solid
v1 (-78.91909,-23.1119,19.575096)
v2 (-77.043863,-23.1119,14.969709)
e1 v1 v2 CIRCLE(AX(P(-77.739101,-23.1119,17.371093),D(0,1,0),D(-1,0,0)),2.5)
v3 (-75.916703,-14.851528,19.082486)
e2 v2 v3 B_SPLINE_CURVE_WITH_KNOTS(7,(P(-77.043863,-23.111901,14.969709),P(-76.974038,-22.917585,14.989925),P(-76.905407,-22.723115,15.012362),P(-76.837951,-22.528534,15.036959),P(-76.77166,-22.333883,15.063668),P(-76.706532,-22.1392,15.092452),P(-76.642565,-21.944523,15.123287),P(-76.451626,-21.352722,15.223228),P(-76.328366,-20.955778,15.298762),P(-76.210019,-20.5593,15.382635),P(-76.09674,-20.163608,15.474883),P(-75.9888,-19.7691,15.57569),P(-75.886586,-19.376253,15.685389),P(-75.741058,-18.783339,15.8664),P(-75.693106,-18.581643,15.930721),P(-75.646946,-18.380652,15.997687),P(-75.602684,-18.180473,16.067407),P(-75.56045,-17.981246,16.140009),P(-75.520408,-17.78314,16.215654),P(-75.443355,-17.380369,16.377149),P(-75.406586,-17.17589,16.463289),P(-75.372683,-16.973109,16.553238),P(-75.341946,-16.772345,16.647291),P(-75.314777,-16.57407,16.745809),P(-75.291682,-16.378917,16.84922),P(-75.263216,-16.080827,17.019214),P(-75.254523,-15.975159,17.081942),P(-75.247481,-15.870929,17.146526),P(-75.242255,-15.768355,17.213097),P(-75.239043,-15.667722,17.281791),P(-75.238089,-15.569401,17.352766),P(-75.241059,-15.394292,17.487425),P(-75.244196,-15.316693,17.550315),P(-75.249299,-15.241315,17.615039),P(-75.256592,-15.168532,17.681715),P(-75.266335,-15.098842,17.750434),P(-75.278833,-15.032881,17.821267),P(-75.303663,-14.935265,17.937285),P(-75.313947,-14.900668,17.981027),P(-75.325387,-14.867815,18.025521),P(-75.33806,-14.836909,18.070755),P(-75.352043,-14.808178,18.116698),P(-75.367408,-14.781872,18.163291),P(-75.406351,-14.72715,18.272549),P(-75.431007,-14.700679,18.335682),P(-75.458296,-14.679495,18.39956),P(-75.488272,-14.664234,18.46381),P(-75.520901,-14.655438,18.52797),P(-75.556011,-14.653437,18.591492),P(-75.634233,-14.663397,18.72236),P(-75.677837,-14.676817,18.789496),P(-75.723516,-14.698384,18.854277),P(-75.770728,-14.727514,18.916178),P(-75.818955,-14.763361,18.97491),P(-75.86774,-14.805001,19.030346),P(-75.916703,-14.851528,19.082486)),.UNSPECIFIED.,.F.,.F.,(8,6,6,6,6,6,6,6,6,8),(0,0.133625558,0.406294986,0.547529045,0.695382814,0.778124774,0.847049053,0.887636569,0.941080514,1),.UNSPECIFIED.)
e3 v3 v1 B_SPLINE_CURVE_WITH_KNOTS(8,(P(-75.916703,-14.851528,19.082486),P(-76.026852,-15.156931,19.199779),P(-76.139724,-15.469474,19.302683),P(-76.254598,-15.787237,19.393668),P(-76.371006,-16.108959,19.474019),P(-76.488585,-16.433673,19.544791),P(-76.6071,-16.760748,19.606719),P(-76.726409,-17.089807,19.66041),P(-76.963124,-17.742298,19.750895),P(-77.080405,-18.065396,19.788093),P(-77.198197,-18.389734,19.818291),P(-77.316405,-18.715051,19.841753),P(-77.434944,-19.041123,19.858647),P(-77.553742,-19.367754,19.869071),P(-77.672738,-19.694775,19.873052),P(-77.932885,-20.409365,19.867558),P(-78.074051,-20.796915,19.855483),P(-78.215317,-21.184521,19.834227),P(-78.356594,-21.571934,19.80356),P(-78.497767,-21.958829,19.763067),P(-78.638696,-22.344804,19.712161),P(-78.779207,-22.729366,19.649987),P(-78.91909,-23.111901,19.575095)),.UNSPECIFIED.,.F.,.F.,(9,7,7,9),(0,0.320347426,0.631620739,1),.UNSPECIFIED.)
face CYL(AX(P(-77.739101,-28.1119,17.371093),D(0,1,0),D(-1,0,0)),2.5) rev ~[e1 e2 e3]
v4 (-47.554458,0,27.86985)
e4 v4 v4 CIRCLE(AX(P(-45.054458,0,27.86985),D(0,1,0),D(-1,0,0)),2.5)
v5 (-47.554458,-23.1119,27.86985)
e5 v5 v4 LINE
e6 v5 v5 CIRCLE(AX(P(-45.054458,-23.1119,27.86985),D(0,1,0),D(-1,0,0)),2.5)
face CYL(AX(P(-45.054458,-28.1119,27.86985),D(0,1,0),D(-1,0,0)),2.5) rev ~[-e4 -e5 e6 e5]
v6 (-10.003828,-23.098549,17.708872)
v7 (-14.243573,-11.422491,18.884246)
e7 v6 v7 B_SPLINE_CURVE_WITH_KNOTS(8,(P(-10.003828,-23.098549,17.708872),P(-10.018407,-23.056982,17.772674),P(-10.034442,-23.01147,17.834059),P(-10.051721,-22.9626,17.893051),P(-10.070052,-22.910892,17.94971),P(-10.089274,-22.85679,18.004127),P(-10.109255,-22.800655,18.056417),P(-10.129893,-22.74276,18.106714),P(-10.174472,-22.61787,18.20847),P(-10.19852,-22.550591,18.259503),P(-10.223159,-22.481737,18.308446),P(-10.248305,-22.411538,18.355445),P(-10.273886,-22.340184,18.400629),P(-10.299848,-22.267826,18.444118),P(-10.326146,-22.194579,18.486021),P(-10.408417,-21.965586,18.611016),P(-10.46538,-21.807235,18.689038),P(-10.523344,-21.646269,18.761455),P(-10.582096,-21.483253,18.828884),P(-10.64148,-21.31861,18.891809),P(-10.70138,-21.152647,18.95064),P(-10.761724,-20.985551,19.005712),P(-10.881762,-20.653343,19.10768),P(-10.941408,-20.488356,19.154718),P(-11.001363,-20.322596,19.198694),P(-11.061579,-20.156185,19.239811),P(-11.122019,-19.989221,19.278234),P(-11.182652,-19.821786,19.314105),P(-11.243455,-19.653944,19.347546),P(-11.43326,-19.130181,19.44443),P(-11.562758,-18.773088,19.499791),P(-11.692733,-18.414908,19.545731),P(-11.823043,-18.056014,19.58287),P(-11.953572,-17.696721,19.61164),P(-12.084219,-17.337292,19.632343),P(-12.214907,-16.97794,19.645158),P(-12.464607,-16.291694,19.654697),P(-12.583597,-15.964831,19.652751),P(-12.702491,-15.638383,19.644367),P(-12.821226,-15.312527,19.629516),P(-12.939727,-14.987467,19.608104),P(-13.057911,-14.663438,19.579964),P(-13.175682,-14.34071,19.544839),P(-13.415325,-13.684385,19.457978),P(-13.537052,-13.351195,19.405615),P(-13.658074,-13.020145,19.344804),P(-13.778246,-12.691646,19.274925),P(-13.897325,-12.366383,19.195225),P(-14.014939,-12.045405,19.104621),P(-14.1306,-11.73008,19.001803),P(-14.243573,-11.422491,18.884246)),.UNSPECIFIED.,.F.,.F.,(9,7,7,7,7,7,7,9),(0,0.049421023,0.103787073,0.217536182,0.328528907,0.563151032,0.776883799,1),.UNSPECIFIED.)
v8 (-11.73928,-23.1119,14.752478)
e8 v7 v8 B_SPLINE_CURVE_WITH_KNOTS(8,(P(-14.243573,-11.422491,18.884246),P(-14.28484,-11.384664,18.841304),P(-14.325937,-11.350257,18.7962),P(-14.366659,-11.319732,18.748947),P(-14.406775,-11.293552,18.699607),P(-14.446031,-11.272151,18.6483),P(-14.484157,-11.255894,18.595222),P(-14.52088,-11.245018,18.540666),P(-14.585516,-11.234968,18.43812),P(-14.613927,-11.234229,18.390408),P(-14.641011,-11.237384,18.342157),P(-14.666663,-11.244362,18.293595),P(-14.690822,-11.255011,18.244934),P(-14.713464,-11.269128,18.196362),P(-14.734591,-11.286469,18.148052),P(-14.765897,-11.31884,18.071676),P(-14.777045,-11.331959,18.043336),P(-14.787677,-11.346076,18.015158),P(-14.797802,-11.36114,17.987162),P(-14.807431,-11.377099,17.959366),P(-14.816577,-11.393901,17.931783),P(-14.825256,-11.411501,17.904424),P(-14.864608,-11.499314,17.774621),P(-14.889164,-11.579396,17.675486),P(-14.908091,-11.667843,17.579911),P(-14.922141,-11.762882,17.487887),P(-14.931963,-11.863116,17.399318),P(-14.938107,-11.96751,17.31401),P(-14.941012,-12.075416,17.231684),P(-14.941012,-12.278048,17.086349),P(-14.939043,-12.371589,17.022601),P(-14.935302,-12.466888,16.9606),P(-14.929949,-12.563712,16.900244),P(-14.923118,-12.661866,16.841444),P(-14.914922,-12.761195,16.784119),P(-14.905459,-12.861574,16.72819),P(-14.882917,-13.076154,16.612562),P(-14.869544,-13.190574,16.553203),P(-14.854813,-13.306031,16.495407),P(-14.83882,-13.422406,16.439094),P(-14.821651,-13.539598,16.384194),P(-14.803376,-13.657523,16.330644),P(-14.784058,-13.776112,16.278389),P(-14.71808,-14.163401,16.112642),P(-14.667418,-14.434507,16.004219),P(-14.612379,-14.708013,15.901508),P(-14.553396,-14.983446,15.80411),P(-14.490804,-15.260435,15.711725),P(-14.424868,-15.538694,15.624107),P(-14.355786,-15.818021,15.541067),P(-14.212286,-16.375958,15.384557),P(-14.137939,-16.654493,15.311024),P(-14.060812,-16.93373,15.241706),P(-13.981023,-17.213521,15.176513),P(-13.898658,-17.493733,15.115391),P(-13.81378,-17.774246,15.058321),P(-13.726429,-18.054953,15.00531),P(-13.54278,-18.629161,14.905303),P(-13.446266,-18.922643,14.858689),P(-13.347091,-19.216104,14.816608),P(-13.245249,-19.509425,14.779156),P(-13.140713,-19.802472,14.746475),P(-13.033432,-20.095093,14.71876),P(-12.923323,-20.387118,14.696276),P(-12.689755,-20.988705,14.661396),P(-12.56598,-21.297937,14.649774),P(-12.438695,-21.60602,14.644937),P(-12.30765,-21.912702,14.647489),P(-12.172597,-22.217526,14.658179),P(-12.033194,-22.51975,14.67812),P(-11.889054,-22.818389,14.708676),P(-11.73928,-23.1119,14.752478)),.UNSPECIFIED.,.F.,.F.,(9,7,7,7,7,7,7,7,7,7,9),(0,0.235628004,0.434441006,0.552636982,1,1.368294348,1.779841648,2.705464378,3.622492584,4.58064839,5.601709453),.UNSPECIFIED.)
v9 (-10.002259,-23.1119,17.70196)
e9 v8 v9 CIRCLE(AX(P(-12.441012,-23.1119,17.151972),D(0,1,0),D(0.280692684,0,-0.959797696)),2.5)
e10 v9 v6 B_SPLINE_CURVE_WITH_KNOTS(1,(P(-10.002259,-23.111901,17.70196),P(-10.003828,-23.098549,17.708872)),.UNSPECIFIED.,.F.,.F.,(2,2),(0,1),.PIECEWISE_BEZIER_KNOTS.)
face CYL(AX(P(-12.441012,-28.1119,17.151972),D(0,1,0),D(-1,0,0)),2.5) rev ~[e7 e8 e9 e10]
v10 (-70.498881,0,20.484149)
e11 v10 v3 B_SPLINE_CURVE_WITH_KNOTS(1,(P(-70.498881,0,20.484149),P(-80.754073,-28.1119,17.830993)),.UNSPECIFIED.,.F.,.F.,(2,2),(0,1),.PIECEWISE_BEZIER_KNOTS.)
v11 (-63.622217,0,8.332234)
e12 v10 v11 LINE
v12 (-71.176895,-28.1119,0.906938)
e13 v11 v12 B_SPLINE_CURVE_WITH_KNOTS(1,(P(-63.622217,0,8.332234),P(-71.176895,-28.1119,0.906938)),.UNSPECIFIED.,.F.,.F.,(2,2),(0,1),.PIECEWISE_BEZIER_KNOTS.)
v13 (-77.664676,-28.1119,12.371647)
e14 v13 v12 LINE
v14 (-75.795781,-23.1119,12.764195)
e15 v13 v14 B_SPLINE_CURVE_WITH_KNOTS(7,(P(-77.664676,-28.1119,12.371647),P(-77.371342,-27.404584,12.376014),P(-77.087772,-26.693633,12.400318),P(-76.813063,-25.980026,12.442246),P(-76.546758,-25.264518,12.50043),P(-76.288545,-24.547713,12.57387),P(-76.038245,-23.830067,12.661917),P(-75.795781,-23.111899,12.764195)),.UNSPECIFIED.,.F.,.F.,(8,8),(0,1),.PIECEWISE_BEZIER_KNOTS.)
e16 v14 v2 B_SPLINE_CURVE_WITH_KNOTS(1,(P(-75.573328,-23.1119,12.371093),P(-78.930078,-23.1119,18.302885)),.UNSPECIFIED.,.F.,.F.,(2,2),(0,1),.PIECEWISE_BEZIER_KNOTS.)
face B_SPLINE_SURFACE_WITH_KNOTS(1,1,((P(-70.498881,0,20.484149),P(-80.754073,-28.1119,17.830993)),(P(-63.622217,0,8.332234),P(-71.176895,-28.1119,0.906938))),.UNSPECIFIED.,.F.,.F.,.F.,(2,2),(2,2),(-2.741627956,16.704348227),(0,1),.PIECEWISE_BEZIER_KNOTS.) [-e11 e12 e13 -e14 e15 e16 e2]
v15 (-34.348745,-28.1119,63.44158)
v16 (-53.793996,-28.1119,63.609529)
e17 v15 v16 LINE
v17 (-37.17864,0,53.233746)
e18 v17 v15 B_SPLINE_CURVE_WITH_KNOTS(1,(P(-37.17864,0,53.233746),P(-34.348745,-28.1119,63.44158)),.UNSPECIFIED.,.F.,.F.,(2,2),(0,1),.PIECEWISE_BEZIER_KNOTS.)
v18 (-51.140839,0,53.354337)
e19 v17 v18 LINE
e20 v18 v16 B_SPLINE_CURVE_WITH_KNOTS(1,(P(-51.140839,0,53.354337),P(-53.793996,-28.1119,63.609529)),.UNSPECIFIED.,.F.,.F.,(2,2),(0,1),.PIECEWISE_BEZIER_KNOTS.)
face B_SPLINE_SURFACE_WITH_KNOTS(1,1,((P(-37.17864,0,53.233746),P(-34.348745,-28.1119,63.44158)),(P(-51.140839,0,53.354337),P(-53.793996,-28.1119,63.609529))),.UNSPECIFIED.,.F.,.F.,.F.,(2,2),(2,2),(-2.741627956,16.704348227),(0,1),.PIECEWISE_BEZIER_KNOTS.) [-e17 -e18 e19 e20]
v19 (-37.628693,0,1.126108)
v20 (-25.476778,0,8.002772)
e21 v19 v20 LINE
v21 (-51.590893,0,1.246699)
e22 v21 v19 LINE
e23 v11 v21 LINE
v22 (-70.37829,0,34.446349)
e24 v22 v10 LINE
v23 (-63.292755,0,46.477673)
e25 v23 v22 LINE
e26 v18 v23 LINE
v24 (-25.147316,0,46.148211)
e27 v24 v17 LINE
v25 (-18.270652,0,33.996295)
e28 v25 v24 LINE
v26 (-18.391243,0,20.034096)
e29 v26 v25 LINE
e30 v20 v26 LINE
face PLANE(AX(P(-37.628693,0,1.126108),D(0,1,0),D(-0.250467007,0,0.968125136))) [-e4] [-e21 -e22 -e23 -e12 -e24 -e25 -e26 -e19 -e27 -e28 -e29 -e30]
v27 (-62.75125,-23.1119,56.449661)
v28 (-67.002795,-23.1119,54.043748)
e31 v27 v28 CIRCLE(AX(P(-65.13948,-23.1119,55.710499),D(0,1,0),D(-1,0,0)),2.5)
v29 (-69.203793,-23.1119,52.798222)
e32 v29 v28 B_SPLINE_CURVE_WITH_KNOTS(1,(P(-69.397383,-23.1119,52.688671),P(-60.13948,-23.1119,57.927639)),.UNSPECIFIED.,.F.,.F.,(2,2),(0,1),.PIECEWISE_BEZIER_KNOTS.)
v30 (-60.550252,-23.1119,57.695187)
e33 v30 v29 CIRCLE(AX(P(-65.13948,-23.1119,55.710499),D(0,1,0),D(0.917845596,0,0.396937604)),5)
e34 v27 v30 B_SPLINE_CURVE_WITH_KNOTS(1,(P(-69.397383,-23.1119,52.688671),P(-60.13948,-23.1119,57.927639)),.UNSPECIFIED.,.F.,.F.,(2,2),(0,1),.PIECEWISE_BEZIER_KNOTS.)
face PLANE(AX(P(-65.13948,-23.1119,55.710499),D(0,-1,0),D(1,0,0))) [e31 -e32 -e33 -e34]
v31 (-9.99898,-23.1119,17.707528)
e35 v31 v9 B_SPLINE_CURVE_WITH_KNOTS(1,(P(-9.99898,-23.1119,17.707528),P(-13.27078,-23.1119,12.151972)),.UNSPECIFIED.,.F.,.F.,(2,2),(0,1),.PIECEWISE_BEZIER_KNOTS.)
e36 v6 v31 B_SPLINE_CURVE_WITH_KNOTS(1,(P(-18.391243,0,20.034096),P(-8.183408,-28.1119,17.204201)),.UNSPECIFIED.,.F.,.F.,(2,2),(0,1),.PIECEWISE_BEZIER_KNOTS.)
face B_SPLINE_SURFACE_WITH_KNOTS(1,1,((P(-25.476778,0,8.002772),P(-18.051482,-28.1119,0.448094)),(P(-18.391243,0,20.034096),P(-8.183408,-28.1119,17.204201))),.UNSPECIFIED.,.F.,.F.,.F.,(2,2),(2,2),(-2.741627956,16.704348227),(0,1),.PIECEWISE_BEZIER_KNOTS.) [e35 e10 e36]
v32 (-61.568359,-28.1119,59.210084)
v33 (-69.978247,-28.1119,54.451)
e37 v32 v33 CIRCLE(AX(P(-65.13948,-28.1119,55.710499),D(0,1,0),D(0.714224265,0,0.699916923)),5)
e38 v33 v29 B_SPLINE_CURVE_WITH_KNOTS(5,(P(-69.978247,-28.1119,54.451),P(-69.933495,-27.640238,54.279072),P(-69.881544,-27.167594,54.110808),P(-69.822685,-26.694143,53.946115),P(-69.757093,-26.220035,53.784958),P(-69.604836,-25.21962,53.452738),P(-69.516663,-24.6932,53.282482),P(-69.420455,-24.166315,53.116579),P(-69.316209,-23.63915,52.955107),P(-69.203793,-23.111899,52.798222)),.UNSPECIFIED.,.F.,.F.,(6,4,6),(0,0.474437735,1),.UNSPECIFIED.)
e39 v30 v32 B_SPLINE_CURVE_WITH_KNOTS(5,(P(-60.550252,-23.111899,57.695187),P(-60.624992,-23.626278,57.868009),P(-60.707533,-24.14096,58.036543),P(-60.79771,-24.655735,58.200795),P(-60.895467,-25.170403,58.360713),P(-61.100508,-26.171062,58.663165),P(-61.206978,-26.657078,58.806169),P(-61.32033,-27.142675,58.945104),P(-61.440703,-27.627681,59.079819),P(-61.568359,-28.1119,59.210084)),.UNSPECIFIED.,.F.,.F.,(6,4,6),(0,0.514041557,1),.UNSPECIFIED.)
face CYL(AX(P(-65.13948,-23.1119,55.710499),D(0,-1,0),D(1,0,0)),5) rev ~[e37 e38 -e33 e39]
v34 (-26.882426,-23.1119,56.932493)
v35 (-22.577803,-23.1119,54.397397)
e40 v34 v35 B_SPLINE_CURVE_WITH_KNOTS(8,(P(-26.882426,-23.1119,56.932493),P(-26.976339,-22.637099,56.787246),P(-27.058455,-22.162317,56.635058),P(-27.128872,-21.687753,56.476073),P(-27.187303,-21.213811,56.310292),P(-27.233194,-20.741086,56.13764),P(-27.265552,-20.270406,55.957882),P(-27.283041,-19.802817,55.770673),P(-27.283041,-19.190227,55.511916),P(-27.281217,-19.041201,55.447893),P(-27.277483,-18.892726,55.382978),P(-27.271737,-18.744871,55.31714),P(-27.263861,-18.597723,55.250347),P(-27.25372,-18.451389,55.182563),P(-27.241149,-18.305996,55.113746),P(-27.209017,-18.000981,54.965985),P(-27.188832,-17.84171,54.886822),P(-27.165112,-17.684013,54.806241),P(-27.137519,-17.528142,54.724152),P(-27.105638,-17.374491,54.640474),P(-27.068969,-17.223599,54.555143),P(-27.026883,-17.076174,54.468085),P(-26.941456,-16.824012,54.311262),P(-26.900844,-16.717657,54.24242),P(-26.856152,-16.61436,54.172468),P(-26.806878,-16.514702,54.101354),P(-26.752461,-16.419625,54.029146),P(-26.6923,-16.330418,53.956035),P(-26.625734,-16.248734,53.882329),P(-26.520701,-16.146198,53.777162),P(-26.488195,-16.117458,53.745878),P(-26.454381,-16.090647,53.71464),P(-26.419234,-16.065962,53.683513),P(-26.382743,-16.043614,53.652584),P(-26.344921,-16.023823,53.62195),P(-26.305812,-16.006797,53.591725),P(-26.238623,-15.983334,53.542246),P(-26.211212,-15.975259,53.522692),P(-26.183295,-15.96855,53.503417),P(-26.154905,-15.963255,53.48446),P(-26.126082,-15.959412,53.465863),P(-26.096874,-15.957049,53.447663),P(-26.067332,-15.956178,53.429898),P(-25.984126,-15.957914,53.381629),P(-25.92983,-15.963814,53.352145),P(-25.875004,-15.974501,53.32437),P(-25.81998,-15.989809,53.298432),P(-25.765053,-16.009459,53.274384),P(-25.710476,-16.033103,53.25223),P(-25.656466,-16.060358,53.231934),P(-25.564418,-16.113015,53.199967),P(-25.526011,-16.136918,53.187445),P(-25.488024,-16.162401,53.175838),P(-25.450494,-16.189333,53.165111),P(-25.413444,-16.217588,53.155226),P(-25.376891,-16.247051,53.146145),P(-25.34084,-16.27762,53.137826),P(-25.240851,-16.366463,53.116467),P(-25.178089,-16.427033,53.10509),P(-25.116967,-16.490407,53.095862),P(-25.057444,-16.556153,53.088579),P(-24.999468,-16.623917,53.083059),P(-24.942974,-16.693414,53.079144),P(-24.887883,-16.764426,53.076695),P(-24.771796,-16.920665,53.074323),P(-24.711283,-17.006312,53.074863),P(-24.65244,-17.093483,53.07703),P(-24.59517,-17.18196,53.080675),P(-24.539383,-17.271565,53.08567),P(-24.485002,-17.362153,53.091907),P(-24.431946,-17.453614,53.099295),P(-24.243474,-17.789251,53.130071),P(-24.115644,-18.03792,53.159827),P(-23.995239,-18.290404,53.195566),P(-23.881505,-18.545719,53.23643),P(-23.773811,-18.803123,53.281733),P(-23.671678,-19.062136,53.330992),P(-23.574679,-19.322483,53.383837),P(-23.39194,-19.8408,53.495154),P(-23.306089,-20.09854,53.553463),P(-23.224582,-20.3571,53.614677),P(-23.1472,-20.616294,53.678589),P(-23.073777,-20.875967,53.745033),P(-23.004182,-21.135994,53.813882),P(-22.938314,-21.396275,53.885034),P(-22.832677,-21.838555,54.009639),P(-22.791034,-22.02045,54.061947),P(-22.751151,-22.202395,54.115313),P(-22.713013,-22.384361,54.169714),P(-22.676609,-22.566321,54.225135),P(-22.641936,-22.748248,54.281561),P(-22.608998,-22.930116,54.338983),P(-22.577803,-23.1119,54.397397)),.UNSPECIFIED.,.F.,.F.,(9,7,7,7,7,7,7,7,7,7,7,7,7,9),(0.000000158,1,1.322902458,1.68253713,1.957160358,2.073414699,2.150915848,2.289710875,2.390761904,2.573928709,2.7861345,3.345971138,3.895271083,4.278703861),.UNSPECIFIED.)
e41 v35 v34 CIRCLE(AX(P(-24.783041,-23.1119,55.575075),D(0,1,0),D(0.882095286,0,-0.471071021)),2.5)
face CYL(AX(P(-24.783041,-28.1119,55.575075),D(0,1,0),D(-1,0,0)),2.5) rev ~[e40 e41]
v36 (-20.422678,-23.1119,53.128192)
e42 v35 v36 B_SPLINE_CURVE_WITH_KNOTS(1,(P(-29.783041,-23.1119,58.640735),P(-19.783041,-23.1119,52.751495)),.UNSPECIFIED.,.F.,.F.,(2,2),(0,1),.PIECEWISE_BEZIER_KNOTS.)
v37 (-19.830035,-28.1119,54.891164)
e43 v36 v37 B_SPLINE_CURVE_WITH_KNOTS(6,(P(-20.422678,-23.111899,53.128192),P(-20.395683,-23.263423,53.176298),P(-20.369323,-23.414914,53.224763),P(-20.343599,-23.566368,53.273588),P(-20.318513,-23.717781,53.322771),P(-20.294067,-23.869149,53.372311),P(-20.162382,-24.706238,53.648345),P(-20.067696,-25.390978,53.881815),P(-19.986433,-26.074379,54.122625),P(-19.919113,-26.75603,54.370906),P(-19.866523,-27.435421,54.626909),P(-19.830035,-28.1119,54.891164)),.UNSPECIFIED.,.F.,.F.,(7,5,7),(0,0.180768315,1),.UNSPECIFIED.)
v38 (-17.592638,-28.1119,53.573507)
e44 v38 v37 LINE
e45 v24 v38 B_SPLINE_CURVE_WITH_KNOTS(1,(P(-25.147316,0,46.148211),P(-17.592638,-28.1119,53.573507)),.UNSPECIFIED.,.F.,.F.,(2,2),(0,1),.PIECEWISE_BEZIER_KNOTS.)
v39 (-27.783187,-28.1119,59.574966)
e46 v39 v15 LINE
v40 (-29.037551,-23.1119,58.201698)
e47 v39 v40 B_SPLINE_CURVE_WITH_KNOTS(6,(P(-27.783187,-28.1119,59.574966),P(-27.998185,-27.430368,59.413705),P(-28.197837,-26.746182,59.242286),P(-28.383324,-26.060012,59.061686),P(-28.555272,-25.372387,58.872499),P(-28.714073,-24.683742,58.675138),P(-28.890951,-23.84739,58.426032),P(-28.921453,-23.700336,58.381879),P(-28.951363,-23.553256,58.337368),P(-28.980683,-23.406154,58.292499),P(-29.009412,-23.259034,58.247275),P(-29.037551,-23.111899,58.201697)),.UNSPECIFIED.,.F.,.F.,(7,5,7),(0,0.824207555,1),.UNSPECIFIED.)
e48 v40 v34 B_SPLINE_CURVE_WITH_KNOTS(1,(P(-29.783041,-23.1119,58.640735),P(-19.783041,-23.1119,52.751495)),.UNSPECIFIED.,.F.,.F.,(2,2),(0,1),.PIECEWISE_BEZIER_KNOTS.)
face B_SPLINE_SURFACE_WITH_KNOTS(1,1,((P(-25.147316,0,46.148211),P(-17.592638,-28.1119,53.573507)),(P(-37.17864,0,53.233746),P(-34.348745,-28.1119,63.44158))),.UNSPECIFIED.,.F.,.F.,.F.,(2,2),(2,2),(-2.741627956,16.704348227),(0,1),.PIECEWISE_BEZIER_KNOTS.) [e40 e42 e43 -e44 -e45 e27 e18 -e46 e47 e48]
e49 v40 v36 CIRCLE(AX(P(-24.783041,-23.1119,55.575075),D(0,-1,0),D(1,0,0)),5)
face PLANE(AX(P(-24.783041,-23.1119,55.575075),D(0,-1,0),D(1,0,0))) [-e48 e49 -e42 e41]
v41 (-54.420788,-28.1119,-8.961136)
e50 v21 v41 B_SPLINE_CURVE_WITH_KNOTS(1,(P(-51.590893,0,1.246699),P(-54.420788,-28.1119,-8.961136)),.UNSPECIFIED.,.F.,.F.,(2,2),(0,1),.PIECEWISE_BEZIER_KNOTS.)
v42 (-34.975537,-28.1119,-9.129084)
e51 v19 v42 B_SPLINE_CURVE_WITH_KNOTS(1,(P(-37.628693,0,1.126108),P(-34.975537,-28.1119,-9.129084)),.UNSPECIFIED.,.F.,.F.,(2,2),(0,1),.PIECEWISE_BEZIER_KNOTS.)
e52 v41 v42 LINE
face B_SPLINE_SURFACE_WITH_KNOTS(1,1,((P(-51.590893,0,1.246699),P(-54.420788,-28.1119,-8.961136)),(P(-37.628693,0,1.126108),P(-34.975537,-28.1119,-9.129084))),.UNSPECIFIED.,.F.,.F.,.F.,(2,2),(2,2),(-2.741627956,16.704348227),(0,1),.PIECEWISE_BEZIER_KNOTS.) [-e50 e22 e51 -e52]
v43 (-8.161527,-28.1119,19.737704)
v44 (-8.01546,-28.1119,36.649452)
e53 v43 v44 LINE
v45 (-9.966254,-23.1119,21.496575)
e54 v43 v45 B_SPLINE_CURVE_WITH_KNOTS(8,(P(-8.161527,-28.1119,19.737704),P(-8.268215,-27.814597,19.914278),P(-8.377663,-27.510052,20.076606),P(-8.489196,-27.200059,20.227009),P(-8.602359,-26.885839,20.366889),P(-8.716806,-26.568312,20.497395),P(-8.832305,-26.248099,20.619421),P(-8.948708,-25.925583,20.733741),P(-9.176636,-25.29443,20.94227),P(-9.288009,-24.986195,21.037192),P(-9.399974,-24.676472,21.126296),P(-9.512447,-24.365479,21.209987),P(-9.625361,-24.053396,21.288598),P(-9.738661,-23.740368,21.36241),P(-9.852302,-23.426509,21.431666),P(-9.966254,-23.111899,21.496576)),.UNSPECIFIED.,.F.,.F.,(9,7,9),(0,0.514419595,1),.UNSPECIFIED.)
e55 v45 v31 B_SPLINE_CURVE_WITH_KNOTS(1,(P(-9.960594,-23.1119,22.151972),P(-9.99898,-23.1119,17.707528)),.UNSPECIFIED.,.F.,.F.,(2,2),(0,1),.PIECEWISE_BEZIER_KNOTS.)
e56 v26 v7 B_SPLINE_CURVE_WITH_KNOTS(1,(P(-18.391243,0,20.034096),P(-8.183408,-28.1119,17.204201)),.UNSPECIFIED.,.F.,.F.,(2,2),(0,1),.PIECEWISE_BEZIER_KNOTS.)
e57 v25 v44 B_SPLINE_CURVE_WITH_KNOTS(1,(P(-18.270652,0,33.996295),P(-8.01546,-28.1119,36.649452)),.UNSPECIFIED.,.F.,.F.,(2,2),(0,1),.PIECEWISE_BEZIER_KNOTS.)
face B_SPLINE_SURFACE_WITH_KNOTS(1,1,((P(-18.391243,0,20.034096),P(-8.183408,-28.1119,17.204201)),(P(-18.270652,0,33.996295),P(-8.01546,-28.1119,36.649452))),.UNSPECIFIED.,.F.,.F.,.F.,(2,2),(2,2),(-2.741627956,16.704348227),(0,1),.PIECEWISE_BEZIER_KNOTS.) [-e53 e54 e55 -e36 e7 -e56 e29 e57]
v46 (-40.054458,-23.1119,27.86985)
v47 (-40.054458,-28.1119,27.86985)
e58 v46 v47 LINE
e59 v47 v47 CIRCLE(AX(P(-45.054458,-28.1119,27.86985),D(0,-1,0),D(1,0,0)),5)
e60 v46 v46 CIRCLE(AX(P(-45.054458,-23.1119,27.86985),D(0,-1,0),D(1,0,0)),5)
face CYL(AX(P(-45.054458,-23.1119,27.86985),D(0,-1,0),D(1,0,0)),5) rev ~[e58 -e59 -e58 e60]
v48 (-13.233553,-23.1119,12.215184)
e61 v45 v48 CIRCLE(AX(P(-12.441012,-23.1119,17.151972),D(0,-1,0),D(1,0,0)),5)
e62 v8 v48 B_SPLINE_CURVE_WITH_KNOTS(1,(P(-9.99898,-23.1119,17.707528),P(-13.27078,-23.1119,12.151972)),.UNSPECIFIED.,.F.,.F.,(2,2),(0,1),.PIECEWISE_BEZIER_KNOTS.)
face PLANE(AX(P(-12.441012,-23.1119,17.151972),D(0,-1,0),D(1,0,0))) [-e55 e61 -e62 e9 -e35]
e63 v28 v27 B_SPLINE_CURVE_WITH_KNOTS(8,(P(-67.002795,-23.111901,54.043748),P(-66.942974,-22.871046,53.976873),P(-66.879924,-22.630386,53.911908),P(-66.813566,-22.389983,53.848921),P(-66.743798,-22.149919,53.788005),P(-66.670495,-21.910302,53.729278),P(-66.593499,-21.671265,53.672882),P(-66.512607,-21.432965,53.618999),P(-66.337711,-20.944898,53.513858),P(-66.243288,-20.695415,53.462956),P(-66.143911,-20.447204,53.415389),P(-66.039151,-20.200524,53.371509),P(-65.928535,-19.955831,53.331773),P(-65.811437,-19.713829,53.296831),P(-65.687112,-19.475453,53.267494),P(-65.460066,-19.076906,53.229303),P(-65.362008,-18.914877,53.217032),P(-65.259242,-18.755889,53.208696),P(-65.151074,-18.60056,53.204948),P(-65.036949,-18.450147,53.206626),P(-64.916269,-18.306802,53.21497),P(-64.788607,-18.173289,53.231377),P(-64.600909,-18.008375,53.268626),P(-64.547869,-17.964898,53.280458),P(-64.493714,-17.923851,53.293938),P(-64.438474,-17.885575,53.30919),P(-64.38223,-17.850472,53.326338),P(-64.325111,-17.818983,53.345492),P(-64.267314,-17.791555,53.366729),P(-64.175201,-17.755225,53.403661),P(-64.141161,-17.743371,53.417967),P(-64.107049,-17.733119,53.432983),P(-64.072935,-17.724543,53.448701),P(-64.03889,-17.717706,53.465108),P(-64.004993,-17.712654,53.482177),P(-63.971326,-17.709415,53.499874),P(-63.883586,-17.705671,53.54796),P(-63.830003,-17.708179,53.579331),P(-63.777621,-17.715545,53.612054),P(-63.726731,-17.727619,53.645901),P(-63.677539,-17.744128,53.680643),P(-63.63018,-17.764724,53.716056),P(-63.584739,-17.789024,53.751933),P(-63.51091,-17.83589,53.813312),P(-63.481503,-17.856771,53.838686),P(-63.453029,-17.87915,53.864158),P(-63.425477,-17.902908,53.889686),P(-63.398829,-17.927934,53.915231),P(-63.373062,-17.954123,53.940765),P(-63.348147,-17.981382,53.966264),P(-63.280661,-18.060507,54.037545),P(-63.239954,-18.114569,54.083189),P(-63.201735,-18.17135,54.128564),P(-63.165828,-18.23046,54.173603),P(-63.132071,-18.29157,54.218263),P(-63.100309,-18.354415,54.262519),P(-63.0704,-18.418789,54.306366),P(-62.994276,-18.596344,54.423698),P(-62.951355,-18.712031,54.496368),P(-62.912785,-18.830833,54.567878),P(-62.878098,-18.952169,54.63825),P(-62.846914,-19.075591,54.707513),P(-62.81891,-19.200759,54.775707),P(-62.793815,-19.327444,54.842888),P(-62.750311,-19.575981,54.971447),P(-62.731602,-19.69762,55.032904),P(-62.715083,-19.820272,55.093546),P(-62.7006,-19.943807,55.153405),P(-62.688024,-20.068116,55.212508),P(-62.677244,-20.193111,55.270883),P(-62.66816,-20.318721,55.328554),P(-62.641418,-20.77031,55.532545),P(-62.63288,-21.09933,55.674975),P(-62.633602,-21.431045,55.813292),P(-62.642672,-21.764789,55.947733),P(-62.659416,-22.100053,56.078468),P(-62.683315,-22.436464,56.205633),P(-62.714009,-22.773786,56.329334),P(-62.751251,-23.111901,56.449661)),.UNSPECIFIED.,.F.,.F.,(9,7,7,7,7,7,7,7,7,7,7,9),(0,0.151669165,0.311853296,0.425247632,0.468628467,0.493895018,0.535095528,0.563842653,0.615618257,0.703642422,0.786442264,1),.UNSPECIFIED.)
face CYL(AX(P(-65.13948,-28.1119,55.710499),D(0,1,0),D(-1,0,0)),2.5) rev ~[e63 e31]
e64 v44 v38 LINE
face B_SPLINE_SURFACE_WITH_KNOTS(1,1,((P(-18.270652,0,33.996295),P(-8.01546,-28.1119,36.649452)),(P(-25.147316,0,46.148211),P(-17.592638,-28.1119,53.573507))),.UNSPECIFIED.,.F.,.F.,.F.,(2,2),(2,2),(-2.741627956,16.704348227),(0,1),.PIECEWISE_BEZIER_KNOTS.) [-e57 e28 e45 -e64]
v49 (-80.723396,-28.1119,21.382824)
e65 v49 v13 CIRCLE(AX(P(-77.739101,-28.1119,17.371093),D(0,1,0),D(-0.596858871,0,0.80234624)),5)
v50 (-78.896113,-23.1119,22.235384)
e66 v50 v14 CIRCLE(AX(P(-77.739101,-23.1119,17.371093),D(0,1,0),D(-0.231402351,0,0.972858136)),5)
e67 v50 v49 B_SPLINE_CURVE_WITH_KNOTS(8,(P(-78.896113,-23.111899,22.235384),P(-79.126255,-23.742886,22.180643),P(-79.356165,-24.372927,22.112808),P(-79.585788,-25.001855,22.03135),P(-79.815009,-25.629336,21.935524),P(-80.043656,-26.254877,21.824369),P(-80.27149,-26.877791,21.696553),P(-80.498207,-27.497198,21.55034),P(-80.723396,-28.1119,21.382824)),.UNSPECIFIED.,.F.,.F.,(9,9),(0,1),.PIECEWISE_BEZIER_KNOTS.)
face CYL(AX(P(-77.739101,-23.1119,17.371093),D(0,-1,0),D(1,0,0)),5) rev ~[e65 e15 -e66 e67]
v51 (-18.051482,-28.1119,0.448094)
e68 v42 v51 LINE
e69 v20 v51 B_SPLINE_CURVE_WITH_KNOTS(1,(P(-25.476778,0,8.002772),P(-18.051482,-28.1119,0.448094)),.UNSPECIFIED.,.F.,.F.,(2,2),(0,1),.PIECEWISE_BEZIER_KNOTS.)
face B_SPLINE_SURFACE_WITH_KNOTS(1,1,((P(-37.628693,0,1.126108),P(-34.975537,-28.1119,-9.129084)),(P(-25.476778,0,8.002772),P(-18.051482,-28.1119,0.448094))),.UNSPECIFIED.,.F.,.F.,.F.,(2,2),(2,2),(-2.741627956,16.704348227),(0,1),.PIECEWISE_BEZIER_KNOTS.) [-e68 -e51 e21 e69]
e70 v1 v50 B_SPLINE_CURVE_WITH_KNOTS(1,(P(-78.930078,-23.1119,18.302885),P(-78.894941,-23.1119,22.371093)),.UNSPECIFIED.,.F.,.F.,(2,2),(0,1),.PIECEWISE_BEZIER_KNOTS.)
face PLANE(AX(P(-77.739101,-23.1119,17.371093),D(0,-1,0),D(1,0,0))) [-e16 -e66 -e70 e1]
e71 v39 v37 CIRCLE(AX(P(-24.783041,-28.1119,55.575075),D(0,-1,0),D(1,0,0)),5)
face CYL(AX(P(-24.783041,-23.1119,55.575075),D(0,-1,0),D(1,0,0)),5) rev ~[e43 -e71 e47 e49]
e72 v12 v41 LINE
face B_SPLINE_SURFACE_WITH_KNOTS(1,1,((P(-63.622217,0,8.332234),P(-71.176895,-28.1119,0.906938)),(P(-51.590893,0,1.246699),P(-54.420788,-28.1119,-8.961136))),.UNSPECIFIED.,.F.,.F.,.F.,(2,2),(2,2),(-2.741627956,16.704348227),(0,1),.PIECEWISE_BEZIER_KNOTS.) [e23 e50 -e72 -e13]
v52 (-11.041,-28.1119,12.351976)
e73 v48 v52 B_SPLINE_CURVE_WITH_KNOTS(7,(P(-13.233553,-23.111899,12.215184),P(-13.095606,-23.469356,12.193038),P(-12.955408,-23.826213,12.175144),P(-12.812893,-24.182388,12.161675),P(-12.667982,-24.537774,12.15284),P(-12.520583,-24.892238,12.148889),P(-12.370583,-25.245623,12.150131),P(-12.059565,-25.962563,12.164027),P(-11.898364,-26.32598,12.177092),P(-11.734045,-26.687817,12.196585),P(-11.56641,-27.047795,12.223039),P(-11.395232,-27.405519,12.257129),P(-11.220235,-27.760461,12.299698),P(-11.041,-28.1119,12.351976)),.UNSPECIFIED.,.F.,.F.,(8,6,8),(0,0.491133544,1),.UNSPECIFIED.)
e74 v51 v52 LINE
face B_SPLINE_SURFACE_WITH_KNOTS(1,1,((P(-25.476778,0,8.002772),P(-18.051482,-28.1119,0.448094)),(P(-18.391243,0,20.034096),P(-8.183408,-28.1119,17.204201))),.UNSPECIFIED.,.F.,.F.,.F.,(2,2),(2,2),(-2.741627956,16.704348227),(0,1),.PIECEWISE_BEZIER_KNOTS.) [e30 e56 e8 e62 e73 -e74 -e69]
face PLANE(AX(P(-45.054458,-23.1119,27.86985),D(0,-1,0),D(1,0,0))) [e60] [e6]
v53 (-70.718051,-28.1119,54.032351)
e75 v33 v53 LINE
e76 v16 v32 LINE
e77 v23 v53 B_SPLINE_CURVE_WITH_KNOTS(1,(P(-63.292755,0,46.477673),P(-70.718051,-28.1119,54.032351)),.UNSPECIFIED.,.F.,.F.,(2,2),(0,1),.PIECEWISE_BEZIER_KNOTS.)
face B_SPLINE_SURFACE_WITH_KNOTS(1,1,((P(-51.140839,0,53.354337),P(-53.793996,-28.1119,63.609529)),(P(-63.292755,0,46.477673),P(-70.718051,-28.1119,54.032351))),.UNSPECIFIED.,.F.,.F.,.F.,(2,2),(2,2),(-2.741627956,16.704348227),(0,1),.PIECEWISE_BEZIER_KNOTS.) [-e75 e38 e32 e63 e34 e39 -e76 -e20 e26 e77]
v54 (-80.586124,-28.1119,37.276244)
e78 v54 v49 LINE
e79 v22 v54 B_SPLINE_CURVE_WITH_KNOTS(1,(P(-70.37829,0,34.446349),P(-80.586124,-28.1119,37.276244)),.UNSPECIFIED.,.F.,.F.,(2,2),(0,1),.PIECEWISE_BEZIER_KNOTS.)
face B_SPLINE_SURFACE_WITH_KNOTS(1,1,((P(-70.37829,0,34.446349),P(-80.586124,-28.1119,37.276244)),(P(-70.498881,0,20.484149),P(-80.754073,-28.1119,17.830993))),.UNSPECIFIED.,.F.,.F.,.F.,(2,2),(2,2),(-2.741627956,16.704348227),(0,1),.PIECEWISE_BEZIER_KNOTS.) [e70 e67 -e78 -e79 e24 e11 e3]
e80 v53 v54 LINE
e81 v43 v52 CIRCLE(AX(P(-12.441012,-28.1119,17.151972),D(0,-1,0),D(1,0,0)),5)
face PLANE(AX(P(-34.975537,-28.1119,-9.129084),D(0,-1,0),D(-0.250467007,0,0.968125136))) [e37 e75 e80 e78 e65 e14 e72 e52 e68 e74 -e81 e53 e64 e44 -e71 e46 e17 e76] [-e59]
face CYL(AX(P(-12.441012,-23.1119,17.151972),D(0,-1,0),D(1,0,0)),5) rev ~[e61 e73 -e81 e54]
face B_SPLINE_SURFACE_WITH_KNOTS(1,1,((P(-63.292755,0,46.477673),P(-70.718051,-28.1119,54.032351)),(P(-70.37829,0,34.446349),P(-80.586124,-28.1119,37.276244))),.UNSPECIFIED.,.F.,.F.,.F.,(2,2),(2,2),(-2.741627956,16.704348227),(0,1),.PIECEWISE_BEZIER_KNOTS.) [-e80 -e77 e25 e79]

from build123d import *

# Parameters (mm, degrees)
F1_DEPTH       = 28.1119
F1_TAPER       = -20
F3_D           = 5
F3_CBORE_D     = 10
F3_CBORE_DEPTH = 5


with BuildPart() as f1:
    # F0 (on Front) → F1 (new body)
    with BuildSketch(Plane.XZ):
        Polygon((-37.6286933092, 1.1261076269), (-25.476778123, 8.0027721288), (-18.3912431181, 20.0340958739), (-18.270651677, 33.9962953808), (-25.1473161789, 46.148210567), (-37.178639924, 53.2337455719), (-51.1408394309, 53.354337013), (-63.2927546171, 46.4776725111), (-70.378289622, 34.446348766), (-70.4988810631, 20.4841492591), (-63.6222165612, 8.3322340729), (-51.5908928161, 1.246699068), align=None)
    extrude(amount=F1_DEPTH, taper=F1_TAPER)

    # F3 (through all)
    with Locations(Plane.XZ.offset(28.1119)):
        with Locations((-77.7391013168, 17.3710930631), (-65.139479872, 55.7104988926), (-24.7830409778, 55.5750747702), (-12.4410115211, 17.1519722301), (-45.0544580817, 27.8698503971)):
            CounterBoreHole(F3_D / 2, F3_CBORE_D / 2, F3_CBORE_DEPTH)


solid = f1.part
